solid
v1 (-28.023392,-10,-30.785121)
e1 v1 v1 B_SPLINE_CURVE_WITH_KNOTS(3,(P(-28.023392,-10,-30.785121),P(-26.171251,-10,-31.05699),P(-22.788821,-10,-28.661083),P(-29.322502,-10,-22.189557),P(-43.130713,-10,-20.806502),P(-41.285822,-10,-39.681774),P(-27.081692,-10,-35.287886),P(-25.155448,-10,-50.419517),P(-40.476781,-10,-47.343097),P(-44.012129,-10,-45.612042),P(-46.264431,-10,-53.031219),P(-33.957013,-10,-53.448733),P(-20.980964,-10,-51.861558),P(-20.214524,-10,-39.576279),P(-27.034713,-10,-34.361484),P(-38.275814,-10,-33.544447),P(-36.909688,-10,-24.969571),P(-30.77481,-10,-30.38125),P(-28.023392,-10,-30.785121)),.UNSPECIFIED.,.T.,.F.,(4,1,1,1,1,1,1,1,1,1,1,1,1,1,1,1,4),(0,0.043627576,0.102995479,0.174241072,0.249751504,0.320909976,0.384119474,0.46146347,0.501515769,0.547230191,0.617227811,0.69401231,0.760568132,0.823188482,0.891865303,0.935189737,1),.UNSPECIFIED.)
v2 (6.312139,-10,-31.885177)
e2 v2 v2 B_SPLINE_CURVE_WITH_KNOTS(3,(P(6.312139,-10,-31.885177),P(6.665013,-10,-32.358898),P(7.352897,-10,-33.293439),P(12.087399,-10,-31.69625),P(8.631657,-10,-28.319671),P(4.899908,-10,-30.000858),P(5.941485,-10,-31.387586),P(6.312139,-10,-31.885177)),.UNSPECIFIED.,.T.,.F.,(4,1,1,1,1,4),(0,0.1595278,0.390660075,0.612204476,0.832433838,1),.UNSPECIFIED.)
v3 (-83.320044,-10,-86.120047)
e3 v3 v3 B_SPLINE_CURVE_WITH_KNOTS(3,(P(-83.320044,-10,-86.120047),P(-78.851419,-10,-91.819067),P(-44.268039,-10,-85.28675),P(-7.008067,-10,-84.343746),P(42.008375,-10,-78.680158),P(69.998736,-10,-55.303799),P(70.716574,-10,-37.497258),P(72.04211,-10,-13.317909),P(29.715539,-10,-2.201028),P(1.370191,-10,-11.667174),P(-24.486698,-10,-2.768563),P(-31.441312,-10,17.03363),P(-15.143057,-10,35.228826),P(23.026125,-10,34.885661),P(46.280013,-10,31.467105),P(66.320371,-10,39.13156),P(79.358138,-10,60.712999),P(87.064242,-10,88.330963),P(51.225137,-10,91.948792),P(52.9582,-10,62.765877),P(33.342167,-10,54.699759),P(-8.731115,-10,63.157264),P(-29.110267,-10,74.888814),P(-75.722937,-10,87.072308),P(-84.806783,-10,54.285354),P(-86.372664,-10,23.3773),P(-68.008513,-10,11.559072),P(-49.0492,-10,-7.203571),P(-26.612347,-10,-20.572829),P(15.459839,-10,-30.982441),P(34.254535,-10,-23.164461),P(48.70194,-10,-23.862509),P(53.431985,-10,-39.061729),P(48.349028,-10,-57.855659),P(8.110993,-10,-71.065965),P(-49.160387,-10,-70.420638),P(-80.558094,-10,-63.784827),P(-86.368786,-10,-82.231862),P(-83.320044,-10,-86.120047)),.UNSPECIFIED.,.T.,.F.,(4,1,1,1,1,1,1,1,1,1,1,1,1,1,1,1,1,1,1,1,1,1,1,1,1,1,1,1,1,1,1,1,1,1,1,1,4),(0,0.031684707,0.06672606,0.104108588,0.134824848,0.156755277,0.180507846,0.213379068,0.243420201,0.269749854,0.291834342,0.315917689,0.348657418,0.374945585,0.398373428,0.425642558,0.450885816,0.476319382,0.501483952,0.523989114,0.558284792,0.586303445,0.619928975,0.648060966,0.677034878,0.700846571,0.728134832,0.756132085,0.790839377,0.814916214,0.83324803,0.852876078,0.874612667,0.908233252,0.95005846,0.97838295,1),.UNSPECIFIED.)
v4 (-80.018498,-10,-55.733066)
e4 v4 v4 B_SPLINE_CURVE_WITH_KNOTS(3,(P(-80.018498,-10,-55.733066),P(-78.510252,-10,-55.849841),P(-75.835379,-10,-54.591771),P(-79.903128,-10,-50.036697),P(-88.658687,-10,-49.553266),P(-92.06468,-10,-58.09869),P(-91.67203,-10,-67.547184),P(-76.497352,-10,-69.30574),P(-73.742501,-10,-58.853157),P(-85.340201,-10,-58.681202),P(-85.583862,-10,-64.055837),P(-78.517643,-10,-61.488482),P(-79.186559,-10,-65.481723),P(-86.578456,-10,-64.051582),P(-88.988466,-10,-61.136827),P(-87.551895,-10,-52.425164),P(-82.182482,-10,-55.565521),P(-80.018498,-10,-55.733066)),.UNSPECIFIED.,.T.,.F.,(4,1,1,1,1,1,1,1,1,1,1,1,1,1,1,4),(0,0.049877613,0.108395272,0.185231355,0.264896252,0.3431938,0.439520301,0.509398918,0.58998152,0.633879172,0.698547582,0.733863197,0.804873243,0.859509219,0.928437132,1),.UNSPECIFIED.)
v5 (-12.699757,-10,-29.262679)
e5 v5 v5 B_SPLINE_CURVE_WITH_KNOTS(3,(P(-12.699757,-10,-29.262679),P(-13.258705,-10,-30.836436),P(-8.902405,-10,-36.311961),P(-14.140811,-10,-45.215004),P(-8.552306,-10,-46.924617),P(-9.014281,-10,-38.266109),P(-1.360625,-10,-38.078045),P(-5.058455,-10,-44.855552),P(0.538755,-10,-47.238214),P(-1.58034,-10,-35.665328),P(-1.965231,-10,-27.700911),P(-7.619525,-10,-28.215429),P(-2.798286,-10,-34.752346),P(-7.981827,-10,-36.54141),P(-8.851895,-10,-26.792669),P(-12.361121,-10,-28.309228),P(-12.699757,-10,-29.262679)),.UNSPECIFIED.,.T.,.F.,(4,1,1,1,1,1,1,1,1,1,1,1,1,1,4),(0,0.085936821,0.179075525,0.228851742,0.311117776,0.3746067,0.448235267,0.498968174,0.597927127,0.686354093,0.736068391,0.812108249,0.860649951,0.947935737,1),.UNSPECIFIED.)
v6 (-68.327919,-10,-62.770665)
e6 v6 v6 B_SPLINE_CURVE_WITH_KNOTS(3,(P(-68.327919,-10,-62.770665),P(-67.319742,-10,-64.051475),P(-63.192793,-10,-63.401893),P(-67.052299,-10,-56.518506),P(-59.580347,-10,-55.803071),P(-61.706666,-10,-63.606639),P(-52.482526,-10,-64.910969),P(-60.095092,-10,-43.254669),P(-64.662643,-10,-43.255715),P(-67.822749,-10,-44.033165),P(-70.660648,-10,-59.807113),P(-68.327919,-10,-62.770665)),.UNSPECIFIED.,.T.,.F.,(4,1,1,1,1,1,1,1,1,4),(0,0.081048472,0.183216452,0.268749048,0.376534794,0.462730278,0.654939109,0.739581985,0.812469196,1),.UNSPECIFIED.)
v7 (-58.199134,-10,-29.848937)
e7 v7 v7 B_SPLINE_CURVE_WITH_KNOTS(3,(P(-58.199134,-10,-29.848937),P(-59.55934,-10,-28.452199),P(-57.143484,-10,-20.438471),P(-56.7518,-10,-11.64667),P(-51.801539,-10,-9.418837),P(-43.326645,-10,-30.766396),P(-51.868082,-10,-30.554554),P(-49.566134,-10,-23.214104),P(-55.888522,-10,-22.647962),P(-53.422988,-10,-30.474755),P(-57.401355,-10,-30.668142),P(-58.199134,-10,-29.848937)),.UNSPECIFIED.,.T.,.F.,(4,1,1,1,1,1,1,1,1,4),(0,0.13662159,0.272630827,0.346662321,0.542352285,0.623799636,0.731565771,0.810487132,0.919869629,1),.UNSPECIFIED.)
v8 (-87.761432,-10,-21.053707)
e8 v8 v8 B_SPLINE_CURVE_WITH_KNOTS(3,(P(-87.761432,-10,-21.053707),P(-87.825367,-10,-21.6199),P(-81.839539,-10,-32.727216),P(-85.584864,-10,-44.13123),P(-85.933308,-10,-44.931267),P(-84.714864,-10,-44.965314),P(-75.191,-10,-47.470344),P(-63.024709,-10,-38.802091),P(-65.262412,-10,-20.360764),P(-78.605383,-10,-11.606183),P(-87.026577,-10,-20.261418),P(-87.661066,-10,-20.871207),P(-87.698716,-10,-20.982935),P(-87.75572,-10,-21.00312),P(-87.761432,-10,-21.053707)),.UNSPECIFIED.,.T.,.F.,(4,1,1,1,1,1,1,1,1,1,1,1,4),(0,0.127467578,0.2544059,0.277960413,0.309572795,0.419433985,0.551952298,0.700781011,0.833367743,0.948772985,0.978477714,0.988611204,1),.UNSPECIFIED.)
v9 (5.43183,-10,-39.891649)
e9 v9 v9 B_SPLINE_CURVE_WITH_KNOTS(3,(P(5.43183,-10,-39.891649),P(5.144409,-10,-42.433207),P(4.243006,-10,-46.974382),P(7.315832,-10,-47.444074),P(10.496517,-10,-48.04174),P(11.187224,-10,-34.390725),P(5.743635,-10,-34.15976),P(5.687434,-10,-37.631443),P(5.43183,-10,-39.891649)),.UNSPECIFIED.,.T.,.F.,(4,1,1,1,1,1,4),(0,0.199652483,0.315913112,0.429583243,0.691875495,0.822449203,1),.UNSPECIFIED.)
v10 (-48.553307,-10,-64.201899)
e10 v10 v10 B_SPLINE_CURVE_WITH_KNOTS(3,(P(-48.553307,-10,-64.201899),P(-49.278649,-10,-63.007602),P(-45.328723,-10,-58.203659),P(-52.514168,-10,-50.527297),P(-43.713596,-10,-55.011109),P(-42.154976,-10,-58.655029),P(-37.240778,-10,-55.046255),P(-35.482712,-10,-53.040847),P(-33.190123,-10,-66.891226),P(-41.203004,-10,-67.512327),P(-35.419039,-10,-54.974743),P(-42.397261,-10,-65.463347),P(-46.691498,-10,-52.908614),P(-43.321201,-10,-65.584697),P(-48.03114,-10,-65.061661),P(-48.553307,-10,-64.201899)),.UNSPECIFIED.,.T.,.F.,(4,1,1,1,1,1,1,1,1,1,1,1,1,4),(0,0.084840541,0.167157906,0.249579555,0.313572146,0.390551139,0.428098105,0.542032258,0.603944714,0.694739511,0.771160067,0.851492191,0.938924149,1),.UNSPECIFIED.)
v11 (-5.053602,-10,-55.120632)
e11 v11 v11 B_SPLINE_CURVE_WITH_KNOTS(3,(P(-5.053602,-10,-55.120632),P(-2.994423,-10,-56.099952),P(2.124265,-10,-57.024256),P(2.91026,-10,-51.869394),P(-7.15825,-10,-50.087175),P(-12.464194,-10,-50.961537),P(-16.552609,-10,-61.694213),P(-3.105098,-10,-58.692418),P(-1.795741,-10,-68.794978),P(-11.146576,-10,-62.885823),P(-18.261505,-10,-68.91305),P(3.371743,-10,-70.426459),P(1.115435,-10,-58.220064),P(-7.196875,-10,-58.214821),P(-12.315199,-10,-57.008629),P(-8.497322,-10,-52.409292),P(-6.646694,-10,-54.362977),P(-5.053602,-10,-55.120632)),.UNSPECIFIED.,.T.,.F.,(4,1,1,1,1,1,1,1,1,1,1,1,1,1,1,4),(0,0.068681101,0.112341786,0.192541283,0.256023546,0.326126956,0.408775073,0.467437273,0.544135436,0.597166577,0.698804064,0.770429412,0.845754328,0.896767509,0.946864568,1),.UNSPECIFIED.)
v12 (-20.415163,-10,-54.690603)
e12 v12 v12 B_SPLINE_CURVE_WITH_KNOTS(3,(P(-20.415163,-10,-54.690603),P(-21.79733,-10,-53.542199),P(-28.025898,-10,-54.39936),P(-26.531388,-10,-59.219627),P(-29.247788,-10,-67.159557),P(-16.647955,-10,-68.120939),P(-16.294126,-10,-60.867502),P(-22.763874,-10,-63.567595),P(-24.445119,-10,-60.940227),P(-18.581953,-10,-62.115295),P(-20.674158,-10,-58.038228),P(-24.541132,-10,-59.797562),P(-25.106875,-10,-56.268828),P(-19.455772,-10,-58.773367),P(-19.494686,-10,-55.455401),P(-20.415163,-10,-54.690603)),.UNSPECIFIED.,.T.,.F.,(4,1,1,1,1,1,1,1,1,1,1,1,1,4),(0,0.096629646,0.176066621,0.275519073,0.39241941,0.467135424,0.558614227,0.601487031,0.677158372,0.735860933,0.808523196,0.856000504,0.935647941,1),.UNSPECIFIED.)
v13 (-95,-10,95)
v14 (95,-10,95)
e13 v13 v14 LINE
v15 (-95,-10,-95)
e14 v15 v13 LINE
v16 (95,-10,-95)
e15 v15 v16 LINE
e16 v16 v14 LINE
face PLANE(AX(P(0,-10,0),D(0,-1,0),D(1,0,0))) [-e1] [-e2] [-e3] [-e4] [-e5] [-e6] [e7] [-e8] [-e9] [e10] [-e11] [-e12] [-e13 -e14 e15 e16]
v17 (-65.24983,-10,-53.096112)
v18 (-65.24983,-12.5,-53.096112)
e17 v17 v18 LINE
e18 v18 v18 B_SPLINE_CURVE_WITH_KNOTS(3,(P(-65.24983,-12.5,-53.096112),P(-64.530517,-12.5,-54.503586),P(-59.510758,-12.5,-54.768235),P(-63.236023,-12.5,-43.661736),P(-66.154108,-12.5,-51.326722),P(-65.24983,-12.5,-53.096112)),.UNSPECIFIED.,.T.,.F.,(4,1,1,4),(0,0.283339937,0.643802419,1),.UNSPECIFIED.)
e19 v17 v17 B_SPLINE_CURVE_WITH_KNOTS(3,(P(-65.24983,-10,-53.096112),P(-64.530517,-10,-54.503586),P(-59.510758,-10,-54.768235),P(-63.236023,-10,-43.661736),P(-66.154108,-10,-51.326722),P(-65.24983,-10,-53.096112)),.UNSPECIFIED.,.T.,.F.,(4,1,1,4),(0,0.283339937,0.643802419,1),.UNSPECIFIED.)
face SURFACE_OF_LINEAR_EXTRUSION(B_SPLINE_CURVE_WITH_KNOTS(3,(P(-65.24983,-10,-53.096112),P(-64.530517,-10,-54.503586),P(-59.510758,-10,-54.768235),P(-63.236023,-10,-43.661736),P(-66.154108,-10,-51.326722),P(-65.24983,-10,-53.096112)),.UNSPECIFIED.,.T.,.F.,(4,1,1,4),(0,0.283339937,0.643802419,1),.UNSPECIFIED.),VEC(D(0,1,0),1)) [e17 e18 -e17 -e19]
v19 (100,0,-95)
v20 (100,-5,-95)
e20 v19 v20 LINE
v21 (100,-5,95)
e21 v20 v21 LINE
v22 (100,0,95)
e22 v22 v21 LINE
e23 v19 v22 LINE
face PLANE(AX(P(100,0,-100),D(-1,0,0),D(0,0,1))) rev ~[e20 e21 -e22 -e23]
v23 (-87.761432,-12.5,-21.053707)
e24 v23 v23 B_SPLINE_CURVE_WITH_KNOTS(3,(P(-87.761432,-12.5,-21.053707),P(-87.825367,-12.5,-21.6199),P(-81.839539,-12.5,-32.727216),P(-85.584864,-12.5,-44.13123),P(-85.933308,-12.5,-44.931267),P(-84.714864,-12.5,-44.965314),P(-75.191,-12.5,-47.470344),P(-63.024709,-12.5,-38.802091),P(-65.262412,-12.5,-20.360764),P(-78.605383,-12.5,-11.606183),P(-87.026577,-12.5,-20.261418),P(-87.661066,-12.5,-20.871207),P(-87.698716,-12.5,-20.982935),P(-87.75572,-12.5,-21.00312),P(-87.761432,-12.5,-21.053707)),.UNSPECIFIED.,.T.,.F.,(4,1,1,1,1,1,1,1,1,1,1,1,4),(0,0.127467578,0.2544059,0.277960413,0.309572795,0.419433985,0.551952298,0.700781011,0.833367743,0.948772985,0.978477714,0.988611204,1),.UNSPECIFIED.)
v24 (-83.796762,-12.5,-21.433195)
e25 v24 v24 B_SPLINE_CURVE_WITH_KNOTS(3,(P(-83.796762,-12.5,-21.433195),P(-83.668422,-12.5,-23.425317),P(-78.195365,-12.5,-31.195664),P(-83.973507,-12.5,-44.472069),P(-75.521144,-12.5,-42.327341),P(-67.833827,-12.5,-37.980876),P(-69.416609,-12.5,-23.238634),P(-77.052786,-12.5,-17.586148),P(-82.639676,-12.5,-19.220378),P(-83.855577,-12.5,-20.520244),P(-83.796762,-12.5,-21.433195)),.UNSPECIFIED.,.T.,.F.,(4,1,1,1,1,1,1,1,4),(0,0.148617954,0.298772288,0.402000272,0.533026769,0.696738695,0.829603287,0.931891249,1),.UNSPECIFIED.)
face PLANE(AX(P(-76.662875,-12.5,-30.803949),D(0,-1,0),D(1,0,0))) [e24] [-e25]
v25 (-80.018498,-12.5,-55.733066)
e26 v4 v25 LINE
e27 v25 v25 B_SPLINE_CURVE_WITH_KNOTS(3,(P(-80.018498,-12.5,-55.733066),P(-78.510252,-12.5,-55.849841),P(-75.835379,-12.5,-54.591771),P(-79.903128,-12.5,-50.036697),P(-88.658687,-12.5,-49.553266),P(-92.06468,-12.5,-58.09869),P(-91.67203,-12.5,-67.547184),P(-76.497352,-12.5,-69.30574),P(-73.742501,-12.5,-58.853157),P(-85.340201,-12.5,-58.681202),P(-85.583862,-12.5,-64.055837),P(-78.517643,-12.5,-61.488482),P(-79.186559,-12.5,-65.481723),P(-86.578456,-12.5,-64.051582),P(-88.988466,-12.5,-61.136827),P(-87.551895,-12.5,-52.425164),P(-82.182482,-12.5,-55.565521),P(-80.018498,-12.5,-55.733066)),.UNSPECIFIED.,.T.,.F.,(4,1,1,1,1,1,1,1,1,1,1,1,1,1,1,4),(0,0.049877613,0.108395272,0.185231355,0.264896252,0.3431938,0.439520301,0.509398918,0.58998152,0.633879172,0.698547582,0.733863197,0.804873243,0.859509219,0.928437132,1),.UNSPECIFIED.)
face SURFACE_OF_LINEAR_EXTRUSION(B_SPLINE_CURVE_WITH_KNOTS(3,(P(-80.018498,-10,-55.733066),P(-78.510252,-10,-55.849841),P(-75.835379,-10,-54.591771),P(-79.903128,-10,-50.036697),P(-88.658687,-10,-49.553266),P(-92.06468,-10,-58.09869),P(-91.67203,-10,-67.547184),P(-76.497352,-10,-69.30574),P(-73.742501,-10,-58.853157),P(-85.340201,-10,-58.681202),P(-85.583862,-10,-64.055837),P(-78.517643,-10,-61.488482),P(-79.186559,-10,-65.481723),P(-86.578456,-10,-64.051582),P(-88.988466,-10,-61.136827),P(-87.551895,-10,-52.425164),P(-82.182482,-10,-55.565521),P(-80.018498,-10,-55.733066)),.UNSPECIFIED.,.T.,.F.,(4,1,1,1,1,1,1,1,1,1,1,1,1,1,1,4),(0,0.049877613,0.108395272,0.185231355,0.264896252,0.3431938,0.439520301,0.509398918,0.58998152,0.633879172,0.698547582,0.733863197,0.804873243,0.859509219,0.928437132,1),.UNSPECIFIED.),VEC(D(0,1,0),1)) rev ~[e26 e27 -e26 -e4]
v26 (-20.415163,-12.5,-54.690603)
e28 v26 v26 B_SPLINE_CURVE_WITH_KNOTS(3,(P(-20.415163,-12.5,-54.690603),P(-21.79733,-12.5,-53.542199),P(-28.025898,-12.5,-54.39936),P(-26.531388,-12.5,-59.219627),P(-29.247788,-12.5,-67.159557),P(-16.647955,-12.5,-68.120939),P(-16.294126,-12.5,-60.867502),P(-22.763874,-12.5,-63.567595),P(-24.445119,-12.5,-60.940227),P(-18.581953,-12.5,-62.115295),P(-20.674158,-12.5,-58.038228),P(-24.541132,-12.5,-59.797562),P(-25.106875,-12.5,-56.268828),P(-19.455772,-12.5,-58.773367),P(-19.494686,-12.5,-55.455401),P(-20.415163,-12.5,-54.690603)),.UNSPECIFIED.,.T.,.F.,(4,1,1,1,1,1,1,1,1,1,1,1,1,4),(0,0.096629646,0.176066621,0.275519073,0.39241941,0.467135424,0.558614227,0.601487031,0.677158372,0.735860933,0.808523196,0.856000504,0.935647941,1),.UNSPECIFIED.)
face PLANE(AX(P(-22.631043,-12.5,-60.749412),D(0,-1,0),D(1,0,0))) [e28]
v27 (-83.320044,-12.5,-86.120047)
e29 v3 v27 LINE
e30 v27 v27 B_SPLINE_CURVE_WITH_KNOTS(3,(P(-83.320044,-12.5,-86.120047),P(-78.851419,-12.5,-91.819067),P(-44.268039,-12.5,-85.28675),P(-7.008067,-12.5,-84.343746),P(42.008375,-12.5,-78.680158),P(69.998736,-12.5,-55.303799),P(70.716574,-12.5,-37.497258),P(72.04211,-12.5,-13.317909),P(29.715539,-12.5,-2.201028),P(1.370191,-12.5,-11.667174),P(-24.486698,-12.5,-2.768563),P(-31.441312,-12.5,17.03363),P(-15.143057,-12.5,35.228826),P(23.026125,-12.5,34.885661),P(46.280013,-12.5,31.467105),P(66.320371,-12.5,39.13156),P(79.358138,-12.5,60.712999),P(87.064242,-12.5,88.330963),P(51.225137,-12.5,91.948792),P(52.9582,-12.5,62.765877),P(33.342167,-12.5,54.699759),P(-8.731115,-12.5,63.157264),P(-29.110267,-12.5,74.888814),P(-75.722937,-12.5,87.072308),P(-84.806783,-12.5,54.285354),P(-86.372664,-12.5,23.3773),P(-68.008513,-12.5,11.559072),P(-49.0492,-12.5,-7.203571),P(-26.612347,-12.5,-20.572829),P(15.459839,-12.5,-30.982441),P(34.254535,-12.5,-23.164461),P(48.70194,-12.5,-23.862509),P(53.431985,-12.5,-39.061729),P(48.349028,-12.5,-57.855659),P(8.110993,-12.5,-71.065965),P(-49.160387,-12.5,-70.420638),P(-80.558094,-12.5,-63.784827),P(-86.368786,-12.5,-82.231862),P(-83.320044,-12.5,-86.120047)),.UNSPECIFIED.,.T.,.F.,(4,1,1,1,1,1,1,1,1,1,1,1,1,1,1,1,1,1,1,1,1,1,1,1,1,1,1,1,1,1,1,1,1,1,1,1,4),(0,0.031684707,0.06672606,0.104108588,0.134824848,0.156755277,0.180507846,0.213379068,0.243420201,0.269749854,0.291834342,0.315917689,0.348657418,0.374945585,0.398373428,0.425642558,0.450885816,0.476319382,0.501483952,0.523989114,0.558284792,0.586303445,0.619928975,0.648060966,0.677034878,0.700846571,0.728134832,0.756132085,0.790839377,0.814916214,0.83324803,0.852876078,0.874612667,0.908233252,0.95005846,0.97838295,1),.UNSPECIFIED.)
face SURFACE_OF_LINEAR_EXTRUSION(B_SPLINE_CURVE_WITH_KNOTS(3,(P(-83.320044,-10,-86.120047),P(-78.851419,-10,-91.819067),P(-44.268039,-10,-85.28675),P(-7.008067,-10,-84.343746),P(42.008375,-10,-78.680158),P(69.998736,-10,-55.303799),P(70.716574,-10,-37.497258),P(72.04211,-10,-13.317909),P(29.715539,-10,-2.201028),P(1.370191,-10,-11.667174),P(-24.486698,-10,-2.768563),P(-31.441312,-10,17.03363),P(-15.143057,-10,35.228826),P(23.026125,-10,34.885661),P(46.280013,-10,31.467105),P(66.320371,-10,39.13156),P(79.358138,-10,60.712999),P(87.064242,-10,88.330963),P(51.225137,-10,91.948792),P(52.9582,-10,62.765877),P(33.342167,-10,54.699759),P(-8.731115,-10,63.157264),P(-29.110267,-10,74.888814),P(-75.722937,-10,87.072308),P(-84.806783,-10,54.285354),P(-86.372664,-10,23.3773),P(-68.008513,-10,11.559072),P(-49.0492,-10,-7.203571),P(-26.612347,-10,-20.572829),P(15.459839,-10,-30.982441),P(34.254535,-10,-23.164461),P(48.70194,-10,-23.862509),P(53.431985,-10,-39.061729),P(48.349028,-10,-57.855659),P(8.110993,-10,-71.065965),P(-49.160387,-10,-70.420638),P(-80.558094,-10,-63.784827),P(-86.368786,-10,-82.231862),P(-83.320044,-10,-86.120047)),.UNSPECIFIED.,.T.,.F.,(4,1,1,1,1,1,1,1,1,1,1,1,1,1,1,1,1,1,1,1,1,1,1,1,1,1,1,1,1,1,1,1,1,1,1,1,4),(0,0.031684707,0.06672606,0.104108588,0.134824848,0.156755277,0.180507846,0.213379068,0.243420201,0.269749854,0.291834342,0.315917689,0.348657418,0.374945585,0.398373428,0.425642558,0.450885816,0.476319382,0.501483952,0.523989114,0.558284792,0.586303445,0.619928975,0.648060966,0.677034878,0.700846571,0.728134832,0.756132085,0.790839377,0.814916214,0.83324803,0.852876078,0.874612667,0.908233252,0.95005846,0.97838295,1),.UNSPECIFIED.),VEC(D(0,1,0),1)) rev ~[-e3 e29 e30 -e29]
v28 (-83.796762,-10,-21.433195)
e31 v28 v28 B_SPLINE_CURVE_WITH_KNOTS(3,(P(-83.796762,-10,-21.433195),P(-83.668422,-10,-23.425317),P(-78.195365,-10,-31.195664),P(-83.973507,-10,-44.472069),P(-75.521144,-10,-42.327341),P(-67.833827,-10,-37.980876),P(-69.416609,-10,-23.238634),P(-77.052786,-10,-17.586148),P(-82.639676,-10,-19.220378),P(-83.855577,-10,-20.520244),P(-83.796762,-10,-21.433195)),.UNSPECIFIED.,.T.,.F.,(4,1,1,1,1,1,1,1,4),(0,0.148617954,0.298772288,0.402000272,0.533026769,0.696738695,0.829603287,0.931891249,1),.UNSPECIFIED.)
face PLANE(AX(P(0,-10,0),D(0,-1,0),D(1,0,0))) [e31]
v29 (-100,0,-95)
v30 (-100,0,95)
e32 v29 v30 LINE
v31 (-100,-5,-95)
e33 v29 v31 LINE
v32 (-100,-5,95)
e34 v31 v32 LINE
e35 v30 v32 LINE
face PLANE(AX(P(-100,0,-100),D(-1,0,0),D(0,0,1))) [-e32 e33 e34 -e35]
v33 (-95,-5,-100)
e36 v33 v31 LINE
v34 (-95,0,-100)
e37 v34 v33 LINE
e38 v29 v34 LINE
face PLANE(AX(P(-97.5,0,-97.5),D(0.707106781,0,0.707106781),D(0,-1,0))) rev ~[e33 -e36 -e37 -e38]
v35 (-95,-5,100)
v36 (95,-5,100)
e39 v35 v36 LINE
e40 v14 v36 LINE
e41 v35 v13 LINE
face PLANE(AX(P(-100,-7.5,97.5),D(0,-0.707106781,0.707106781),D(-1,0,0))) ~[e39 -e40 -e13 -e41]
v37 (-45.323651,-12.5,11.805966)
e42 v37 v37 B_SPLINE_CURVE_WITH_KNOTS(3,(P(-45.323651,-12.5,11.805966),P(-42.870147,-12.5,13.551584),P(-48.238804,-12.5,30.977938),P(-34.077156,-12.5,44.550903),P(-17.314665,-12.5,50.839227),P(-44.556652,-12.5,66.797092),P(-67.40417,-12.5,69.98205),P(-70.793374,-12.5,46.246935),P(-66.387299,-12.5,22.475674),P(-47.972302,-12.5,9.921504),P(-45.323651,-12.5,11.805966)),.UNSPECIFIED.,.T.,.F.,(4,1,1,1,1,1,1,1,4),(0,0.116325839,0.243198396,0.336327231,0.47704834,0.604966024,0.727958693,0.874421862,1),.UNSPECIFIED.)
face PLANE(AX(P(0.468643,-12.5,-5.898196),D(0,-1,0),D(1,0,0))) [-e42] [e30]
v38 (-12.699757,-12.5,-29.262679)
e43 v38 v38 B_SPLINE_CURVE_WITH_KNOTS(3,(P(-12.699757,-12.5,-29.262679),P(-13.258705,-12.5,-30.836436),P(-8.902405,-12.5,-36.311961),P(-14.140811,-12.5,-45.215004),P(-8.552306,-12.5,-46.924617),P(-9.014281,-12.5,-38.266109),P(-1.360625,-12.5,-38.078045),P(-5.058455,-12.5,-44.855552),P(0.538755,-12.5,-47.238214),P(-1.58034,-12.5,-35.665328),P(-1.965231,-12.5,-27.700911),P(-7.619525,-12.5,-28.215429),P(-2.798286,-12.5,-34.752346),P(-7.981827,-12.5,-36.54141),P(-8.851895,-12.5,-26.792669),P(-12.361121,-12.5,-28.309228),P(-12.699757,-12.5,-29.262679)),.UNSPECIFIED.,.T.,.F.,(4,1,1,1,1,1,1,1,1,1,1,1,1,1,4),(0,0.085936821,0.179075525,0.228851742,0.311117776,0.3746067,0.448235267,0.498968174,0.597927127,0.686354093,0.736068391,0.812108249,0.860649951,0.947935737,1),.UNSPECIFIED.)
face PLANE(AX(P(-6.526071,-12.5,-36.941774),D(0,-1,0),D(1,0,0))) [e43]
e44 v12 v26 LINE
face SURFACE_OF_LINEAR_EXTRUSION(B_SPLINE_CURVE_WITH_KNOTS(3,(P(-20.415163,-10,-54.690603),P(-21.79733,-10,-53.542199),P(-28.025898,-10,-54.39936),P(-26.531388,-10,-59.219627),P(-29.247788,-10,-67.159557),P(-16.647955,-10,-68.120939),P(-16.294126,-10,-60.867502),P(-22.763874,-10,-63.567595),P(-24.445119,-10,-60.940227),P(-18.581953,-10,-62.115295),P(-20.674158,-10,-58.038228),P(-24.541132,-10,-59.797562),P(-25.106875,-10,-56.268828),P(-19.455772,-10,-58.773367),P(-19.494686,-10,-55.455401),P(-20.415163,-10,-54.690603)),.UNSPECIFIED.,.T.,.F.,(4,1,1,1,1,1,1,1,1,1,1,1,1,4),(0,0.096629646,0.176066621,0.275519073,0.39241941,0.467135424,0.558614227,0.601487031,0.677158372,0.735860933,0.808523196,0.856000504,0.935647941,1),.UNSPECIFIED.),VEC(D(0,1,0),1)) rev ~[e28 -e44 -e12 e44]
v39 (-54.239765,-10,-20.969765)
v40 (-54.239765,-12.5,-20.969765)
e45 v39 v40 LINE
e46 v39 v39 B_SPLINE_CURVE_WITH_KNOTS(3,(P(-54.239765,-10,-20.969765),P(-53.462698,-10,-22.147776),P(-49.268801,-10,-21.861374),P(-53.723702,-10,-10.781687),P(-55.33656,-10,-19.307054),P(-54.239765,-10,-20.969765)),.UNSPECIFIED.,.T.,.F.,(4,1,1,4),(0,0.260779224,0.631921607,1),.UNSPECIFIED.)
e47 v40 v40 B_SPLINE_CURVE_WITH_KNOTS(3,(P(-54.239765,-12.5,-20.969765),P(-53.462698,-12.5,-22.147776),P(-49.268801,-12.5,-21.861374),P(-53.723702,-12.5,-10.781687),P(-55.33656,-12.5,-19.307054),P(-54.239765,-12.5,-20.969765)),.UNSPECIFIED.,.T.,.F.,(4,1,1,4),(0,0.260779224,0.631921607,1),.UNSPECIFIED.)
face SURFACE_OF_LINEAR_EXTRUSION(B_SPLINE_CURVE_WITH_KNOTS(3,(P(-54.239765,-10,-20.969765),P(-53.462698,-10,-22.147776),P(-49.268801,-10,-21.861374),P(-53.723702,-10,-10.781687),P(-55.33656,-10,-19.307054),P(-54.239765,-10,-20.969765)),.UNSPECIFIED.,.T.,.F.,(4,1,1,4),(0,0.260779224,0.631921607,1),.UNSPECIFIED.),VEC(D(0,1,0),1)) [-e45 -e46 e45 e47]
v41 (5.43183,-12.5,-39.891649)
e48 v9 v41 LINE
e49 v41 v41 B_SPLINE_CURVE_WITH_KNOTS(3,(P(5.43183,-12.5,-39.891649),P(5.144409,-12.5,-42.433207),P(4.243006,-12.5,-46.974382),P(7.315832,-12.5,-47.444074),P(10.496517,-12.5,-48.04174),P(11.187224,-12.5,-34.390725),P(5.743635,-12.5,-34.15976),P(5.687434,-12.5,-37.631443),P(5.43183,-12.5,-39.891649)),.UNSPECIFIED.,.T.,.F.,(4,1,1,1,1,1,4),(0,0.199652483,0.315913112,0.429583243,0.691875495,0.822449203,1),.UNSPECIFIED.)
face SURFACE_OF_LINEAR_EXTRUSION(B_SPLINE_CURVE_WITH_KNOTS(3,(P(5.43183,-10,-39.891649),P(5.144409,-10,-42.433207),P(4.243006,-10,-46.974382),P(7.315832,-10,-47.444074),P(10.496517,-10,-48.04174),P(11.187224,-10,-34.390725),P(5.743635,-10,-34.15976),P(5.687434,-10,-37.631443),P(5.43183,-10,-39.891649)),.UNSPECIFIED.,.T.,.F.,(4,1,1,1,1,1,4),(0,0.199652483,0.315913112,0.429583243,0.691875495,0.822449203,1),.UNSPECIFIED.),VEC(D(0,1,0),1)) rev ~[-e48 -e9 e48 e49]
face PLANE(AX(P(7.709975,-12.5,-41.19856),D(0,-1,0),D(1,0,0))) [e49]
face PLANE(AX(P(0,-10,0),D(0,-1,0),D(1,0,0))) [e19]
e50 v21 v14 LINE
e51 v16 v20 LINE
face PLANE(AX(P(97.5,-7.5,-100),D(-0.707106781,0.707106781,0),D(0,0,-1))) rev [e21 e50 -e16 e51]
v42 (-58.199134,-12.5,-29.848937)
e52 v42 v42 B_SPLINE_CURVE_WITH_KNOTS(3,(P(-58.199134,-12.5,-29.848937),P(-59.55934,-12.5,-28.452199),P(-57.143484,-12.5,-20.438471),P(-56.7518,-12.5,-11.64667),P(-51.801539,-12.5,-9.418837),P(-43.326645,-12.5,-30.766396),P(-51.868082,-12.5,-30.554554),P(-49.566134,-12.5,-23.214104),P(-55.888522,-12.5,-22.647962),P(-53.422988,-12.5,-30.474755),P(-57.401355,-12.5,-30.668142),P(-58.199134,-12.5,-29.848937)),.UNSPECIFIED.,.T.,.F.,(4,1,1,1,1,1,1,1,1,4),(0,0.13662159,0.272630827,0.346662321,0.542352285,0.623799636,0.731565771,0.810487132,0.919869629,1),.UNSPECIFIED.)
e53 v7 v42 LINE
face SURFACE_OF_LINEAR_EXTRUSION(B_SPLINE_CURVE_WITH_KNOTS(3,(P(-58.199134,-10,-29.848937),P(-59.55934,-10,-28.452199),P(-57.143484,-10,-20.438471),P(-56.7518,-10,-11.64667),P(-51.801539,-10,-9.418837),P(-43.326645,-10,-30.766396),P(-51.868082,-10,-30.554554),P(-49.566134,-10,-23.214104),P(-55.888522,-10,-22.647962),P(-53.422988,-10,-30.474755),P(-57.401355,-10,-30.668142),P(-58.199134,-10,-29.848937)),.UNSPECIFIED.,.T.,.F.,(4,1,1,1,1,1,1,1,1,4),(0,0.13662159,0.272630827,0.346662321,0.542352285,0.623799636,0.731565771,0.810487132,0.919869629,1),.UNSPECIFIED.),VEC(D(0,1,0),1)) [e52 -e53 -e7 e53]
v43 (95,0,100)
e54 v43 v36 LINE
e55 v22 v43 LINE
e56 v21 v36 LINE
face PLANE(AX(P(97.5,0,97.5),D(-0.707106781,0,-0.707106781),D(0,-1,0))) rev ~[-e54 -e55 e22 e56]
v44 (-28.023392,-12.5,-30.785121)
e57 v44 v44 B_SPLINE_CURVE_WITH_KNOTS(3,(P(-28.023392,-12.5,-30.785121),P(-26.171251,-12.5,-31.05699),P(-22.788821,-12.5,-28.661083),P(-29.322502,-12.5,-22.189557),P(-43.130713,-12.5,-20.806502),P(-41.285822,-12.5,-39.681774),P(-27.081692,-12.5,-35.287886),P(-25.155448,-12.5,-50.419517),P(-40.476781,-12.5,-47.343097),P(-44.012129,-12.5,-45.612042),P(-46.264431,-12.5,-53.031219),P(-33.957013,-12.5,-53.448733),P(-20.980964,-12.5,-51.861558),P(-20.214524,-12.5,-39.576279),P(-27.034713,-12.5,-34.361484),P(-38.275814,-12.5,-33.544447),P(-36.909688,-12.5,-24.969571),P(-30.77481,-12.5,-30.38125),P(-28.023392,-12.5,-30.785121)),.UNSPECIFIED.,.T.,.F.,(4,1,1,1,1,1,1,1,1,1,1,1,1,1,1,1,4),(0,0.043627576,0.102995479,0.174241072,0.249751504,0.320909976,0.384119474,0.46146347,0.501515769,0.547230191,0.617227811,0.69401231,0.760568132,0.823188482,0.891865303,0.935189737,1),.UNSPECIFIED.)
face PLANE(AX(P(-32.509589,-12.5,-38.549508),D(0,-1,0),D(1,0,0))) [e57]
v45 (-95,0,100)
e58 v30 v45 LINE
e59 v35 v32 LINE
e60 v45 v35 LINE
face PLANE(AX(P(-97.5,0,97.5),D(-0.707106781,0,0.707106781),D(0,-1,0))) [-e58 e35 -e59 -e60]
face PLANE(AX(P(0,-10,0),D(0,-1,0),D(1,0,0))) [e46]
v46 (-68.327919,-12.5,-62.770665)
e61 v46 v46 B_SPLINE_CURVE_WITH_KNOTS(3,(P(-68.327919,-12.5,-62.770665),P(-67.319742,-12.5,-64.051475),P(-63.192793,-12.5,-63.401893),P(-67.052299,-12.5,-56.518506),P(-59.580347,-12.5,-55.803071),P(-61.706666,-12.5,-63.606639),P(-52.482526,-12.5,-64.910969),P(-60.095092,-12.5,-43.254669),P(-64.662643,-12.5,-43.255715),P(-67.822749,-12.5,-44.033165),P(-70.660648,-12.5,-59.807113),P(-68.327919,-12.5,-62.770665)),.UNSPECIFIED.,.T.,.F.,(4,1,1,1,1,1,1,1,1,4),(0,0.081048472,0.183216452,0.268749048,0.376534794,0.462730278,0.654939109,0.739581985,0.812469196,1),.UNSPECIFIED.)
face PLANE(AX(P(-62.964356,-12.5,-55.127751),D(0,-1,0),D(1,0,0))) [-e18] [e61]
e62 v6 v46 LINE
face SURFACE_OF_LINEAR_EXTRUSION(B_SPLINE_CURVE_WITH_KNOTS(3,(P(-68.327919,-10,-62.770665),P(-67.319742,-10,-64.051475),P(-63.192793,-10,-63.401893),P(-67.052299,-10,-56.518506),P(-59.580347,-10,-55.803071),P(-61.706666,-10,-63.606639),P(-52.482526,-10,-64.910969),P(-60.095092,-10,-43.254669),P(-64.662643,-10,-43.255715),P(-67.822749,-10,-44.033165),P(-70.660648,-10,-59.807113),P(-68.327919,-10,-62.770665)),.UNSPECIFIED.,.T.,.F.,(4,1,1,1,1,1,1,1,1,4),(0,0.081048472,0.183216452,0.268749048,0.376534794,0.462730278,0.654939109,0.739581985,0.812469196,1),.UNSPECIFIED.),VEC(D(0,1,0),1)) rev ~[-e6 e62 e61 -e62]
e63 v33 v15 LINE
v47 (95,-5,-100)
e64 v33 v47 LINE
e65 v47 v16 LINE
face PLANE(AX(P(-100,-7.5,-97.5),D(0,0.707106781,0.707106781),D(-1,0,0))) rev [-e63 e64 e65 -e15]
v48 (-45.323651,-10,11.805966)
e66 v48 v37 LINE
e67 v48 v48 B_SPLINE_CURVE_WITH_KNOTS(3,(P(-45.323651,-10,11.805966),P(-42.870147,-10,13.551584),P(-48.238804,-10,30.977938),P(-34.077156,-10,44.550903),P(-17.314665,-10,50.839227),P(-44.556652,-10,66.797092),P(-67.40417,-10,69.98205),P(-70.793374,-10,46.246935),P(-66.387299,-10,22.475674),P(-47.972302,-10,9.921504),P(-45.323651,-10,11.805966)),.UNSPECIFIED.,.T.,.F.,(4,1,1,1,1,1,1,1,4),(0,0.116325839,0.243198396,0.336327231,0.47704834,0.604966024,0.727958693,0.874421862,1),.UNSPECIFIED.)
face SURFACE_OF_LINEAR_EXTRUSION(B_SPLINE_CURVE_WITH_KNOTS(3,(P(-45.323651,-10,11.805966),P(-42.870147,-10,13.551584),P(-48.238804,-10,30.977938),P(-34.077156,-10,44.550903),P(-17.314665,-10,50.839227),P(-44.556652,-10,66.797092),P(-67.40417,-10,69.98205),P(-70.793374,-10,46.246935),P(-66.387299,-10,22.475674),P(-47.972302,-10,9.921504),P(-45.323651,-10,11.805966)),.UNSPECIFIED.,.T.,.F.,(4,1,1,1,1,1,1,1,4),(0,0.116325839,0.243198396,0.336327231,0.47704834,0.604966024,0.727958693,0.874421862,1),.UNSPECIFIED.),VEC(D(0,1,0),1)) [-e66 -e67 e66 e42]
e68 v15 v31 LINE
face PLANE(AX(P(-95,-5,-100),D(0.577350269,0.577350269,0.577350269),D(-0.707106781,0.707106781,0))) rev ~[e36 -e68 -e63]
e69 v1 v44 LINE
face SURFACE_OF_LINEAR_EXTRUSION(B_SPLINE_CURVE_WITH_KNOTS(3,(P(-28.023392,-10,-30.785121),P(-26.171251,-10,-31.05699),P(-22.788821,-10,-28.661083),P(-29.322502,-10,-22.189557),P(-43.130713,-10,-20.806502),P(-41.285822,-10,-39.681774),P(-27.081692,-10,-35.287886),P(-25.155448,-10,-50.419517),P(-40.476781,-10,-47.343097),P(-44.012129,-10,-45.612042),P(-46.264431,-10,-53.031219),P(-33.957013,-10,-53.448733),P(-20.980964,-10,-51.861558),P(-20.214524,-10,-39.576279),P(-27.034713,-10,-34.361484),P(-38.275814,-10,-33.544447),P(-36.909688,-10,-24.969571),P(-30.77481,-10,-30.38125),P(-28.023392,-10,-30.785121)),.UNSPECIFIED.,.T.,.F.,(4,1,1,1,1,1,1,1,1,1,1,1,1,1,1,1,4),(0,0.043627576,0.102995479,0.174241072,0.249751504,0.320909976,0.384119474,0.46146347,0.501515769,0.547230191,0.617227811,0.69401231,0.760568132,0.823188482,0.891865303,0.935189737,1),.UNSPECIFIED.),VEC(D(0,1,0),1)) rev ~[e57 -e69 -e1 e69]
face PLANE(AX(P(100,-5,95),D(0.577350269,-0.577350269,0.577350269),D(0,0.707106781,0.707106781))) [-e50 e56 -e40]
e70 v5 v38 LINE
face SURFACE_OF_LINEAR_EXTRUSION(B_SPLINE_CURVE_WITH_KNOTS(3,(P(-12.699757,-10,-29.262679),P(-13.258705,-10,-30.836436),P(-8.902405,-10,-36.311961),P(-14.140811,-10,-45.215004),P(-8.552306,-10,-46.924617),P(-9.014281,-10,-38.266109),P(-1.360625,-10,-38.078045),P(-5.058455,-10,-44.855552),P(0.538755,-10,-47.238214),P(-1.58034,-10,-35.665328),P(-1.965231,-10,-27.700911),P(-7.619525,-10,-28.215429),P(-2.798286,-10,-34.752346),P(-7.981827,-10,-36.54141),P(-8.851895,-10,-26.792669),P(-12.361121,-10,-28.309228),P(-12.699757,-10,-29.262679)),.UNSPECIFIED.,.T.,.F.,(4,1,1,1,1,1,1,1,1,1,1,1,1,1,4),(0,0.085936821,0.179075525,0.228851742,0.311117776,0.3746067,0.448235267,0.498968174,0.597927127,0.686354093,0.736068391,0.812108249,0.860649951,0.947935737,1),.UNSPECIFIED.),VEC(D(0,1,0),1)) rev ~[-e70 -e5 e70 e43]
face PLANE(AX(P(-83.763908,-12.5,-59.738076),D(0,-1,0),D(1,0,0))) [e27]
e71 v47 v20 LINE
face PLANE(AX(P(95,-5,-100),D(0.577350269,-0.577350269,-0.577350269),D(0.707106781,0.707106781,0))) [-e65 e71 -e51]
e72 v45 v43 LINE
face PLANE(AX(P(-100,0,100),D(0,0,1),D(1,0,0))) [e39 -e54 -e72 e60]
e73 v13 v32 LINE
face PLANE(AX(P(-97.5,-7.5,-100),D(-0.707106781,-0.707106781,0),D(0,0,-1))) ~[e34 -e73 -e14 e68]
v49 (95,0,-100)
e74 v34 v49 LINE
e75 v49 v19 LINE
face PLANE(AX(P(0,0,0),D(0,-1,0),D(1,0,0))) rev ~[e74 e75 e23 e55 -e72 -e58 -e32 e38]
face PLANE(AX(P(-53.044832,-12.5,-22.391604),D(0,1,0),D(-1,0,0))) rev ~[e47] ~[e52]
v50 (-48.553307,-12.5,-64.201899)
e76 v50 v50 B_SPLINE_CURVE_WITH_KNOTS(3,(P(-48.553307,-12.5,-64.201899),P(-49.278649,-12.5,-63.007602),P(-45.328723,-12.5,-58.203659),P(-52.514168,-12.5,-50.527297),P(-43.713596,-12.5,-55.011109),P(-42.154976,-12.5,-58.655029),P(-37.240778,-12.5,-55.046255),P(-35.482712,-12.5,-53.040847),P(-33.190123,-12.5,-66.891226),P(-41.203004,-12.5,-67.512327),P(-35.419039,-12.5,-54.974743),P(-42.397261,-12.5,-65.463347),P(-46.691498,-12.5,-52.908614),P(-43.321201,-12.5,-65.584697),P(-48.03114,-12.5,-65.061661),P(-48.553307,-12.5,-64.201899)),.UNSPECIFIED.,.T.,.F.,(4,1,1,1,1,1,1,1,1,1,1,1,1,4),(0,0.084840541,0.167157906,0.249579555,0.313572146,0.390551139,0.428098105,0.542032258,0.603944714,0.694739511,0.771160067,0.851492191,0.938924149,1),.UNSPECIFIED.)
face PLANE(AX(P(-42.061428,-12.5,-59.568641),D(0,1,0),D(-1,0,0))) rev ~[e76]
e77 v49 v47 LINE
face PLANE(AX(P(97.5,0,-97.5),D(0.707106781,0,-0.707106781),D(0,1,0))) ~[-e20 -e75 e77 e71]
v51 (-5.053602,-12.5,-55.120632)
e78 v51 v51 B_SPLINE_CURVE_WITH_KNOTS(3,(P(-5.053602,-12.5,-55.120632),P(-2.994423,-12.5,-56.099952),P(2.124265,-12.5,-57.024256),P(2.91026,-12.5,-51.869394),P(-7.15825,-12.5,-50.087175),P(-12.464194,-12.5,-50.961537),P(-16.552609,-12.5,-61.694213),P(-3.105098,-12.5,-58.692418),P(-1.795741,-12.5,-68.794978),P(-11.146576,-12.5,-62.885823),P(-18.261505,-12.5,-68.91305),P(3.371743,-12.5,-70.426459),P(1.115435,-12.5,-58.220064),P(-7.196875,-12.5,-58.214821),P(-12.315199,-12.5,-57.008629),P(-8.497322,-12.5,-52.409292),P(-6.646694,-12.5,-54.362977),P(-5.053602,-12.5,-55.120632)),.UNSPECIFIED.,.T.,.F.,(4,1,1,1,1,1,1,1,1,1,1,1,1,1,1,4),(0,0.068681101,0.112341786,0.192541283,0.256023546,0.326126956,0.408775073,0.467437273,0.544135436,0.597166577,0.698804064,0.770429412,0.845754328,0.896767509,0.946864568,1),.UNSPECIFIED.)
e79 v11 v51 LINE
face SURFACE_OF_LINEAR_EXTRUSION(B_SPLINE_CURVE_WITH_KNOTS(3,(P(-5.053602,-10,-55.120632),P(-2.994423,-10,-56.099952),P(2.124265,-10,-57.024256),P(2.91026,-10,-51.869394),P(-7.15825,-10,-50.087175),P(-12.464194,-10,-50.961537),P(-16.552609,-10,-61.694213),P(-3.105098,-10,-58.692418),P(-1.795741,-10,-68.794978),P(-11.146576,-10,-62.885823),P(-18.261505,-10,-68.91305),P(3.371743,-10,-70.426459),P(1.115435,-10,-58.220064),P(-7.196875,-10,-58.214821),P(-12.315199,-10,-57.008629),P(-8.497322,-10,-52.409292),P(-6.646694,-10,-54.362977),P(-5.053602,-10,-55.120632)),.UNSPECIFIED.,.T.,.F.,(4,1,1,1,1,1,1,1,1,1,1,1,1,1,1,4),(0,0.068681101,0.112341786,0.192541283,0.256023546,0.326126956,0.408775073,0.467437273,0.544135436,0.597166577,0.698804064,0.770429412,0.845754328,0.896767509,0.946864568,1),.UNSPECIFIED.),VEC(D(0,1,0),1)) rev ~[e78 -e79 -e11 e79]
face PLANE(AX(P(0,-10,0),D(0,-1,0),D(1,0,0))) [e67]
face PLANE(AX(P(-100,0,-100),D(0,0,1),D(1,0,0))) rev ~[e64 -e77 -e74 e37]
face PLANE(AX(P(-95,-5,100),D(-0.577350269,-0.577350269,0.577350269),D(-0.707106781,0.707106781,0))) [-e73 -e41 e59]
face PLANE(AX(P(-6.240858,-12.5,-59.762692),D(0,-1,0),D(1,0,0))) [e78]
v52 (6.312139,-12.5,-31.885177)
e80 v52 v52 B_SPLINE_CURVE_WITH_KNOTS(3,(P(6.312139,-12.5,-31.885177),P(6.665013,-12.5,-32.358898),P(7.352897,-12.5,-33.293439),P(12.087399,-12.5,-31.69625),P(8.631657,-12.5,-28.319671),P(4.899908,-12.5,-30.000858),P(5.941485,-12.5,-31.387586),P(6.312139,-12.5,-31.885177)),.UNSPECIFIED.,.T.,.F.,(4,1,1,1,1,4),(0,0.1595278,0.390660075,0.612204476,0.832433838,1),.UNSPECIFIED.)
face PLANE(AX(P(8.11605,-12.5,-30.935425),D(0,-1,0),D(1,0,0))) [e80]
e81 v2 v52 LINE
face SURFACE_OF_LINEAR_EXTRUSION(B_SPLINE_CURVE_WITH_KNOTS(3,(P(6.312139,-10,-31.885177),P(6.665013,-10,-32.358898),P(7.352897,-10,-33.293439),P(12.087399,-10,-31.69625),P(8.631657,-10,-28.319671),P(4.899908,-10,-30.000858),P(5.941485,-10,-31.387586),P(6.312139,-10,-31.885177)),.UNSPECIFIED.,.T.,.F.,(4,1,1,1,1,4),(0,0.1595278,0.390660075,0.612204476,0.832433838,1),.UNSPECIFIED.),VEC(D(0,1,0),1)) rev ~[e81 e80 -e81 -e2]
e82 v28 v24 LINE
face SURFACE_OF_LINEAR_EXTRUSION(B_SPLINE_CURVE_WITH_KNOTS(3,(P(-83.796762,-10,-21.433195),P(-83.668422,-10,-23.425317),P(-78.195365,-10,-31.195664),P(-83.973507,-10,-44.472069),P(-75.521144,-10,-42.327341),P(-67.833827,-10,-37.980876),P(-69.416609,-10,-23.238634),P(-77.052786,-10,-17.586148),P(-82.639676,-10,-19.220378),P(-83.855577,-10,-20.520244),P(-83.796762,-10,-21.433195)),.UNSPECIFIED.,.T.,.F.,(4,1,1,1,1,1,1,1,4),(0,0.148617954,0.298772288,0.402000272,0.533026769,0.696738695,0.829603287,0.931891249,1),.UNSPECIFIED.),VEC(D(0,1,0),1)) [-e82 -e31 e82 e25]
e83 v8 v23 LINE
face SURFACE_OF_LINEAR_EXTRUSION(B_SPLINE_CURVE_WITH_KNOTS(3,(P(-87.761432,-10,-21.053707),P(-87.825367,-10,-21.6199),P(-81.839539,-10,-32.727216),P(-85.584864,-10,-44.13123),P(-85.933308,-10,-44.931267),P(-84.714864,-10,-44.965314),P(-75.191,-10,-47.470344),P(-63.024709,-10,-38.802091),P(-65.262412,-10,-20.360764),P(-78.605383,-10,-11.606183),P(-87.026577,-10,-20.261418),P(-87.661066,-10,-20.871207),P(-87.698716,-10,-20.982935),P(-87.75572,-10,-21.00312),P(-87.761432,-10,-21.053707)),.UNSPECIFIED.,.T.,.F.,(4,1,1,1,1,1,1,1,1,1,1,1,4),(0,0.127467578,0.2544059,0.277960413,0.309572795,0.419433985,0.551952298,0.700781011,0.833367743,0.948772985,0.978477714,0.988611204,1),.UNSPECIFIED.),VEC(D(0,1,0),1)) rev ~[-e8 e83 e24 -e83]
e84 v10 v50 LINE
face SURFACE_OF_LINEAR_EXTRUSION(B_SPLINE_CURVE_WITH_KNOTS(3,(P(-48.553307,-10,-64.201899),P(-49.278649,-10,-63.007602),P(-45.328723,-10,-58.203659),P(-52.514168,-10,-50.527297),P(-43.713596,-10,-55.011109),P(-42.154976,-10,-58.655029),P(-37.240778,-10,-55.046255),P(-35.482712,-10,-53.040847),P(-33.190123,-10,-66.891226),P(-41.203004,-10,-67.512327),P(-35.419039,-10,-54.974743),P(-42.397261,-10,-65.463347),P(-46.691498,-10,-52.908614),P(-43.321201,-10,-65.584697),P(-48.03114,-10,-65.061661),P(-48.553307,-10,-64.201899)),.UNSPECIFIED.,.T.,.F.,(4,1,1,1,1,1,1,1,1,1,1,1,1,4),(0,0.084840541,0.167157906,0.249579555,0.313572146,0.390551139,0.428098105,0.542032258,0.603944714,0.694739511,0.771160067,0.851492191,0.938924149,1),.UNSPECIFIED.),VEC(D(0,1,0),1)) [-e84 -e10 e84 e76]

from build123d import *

# Parameters (mm, degrees)
F0_W     = 200
F0_H     = 200
F0_W_2   = 190
F0_H_2   = 190
F1_DEPTH = 10
F2_SIZE  = 5
F4_DEPTH = 2.5


with BuildPart() as f1:
    # F0 (on Front) → F1 (new body)
    with BuildSketch(Plane.XZ):
        Rectangle(F0_W, F0_H)
        Rectangle(F0_W_2, F0_H_2, mode=Mode.SUBTRACT)
        Rectangle(F0_W_2, F0_H_2)
    extrude(amount=F1_DEPTH)

    # F2
    f2_edges = [f1.edges().sort_by_distance(p)[0] for p in [
        (-100, -10, 0),
        (0, -10, 100),
        (100, -10, 0),
        (0, -10, -100),
        (-100, -5, -100),
        (100, -5, -100),
        (100, -5, 100),
        (-100, -5, 100),
    ]]
    chamfer(f2_edges, length=F2_SIZE)

    # F3 (on face) → F4 (join)
    with BuildSketch(Plane.XZ.offset(10)):
        with BuildLine():
            add(Edge.make_bspline(
                [(-87.7614319324, -21.0537072271), (-87.825366867, -21.6199004584), (-81.8395387198, -32.7272155676), (-85.5848640599, -44.1312301135), (-85.9333076917, -44.9312667765), (-84.7148641289, -44.9653135893), (-75.1910001989, -47.4703439431), (-63.0247091743, -38.8020907721), (-65.2624117914, -20.3607639388), (-78.6053829774, -11.6061829799), (-87.0265766494, -20.2614177394), (-87.6610659296, -20.8712068369), (-87.6987156854, -20.9829346897), (-87.7557195629, -21.0031197822), (-87.7614319324, -21.0537072271)],
                knots=[0, 0, 0, 0, 0.1274675783, 0.2544059, 0.2779604132, 0.3095727952, 0.4194339848, 0.5519522976, 0.7007810112, 0.8333677429, 0.9487729847, 0.9784777135, 0.9886112042, 1, 1, 1, 1], degree=3))
        make_face()
        with BuildLine():
            add(Edge.make_bspline(
                [(-83.79676193, -21.4331950992), (-83.6684224556, -23.4253166092), (-78.1953647391, -31.195664231), (-83.9735066611, -44.4720690845), (-75.5211441931, -42.3273411788), (-67.8338266372, -37.9808761763), (-69.4166090973, -23.2386340273), (-77.0527862533, -17.5861479519), (-82.6396759257, -19.2203775392), (-83.8555774438, -20.5202441093), (-83.79676193, -21.4331950992)],
                knots=[0, 0, 0, 0, 0.1486179544, 0.2987722885, 0.4020002725, 0.5330267689, 0.6967386952, 0.8296032871, 0.9318912486, 1, 1, 1, 1], degree=3))
        make_face(mode=Mode.SUBTRACT)
        with BuildLine():
            add(Edge.make_bspline(
                [(-58.199133724, -29.8489369452), (-59.5593396713, -28.4521991908), (-57.143484187, -20.4384711009), (-56.7517995236, -11.6466704735), (-51.8015387198, -9.4188366419), (-43.3266446496, -30.7663964727), (-51.8680821117, -30.5545542125), (-49.566134085, -23.2141041072), (-55.8885223475, -22.6479617351), (-53.422988153, -30.4747553293), (-57.4013549336, -30.6681421239), (-58.199133724, -29.8489369452)],
                knots=[0, 0, 0, 0, 0.1366215896, 0.272630827, 0.3466623213, 0.5423522852, 0.6237996356, 0.7315657708, 0.8104871317, 0.9198696295, 1, 1, 1, 1], degree=3))
        make_face()
        with BuildLine():
            add(Edge.make_bspline(
                [(-54.2397648096, -20.9697652608), (-53.4626981955, -22.147776335), (-49.2688011133, -21.8613744597), (-53.7237021536, -10.7816867402), (-55.3365601206, -19.3070544982), (-54.2397648096, -20.9697652608)],
                knots=[0, 0, 0, 0, 0.2607792242, 0.6319216074, 1, 1, 1, 1], degree=3))
        make_face(mode=Mode.SUBTRACT)
        with BuildLine():
            add(Edge.make_bspline(
                [(-28.0233919621, -30.7851210237), (-26.1712514428, -31.056990298), (-22.7888205804, -28.6610829957), (-29.3225020472, -22.1895574744), (-43.1307127951, -20.806501756), (-41.2858215794, -39.6817735881), (-27.0816917314, -35.2878862445), (-25.1554480643, -50.419516874), (-40.4767809233, -47.3430968664), (-44.0121294885, -45.6120420154), (-46.2644313682, -53.0312190933), (-33.9570130578, -53.4487334928), (-20.9809644736, -51.8615581708), (-20.214524418, -39.5762787551), (-27.0347134532, -34.36148365), (-38.27581389, -33.5444471775), (-36.9096884637, -24.9695712614), (-30.7748103235, -30.381249878), (-28.0233919621, -30.7851210237)],
                knots=[0, 0, 0, 0, 0.0436275764, 0.1029954792, 0.1742410715, 0.2497515044, 0.320909976, 0.384119474, 0.4614634703, 0.5015157689, 0.5472301912, 0.6172278115, 0.6940123095, 0.760568132, 0.823188482, 0.8918653033, 0.9351897366, 1, 1, 1, 1], degree=3))
        make_face()
        with BuildLine():
            add(Edge.make_bspline(
                [(-12.6997567713, -29.2626786977), (-13.2587052462, -30.8364357648), (-8.9024048512, -36.3119608743), (-14.1408112845, -45.2150035694), (-8.552305813, -46.9246168636), (-9.0142808685, -38.2661094361), (-1.360625427, -38.078044797), (-5.0584550028, -44.8555516467), (0.5387553008, -47.2382138088), (-1.5803399109, -35.6653284247), (-1.9652312398, -27.7009110242), (-7.619524522, -28.2154286509), (-2.7982862253, -34.7523456896), (-7.9818272446, -36.541410088), (-8.8518954537, -26.7926691947), (-12.361121479, -28.3092282306), (-12.6997567713, -29.2626786977)],
                knots=[0, 0, 0, 0, 0.0859368209, 0.1790755251, 0.2288517422, 0.3111177758, 0.3746067004, 0.4482352669, 0.4989681736, 0.5979271266, 0.6863540927, 0.7360683906, 0.8121082493, 0.8606499513, 0.9479357369, 1, 1, 1, 1], degree=3))
        make_face()
        with BuildLine():
            add(Edge.make_bspline(
                [(5.4318304174, -39.8916490376), (5.1444085959, -42.4332071529), (4.2430060344, -46.9743824145), (7.3158321025, -47.444074076), (10.4965170085, -48.0417395906), (11.1872238426, -34.3907245409), (5.7436351006, -34.1597597154), (5.6874344181, -37.6314433956), (5.4318304174, -39.8916490376)],
                knots=[0, 0, 0, 0, 0.199652483, 0.315913112, 0.4295832431, 0.6918754953, 0.8224492031, 1, 1, 1, 1], degree=3))
        make_face()
        with BuildLine():
            add(Edge.make_bspline(
                [(6.3121393323, -31.885176897), (6.6650133551, -32.3588980948), (7.3528973302, -33.2934385123), (12.0873990584, -31.6962501206), (8.6316569008, -28.319671165), (4.8999083041, -30.0008583599), (5.9414845265, -31.3875856117), (6.3121393323, -31.885176897)],
                knots=[0, 0, 0, 0, 0.1595277996, 0.3906600755, 0.6122044764, 0.8324338383, 1, 1, 1, 1], degree=3))
        make_face()
        with BuildLine():
            add(Edge.make_bspline(
                [(-20.4151626676, -54.6906031668), (-21.7973301659, -53.5421990575), (-28.0258980206, -54.399360114), (-26.5313879097, -59.2196269463), (-29.2477881462, -67.1595570496), (-16.6479552712, -68.1209390786), (-16.2941260065, -60.8675018079), (-22.7638739303, -63.5675954209), (-24.4451188587, -60.9402273901), (-18.5819526126, -62.1152946619), (-20.6741579052, -58.0382280307), (-24.5411319121, -59.7975620674), (-25.1068750832, -56.2688278574), (-19.4557722471, -58.7733673811), (-19.4946861096, -55.4554012562), (-20.4151626676, -54.6906031668)],
                knots=[0, 0, 0, 0, 0.0966296457, 0.1760666212, 0.2755190731, 0.3924194103, 0.4671354236, 0.5586142265, 0.601487031, 0.677158372, 0.7358609328, 0.8085231958, 0.8560005038, 0.9356479415, 1, 1, 1, 1], degree=3))
        make_face()
        with BuildLine():
            add(Edge.make_bspline(
                [(-5.0536016934, -55.1206320524), (-2.9944234587, -56.0999515721), (2.1242651912, -57.0242562507), (2.9102603087, -51.8693935502), (-7.1582495972, -50.0871751341), (-12.4641940027, -50.9615368949), (-16.5526088087, -61.6942127811), (-3.1050978598, -58.6924184751), (-1.7957411156, -68.7949775391), (-11.1465762949, -62.8858228329), (-18.2615049442, -68.9130504822), (3.3717432602, -70.4264587104), (1.1154352929, -58.2200635568), (-7.1968751693, -58.2148211971), (-12.3151994564, -57.0086292464), (-8.4973222064, -52.4092922106), (-6.6466938841, -54.3629772497), (-5.0536016934, -55.1206320524)],
                knots=[0, 0, 0, 0, 0.0686811006, 0.1123417857, 0.1925412831, 0.2560235456, 0.3261269556, 0.4087750727, 0.4674372728, 0.5441354359, 0.5971665771, 0.6988040637, 0.7704294119, 0.8457543277, 0.8967675089, 0.946864568, 1, 1, 1, 1], degree=3))
        make_face()
        with BuildLine():
            add(Edge.make_bspline(
                [(-48.5533066094, -64.2018988729), (-49.2786488761, -63.0076020631), (-45.3287227709, -58.2036592627), (-52.5141678918, -50.5272969439), (-43.7135962891, -55.0111090446), (-42.1549755706, -58.6550294669), (-37.2407779426, -55.0462550529), (-35.4827120682, -53.0408474692), (-33.1901231657, -66.8912260865), (-41.2030035708, -67.5123265254), (-35.4190393371, -54.974743423), (-42.3972610943, -65.4633468977), (-46.6914977415, -52.9086141647), (-43.3212009824, -65.5846965335), (-48.0311400116, -65.0616611266), (-48.5533066094, -64.2018988729)],
                knots=[0, 0, 0, 0, 0.0848405406, 0.1671579058, 0.2495795549, 0.3135721457, 0.3905511386, 0.4280981047, 0.5420322583, 0.6039447143, 0.6947395112, 0.7711600666, 0.8514921914, 0.9389241487, 1, 1, 1, 1], degree=3))
        make_face()
        with BuildLine():
            add(Edge.make_bspline(
                [(-68.3279186487, -62.7706646919), (-67.3197421085, -64.0514746982), (-63.1927929698, -63.4018931912), (-67.052299195, -56.5185058491), (-59.580347003, -55.8030714061), (-61.7066657457, -63.6066388934), (-52.4825261661, -64.9109692014), (-60.0950918592, -43.2546686343), (-64.6626428375, -43.255715409), (-67.8227486214, -44.0331652459), (-70.6606480902, -59.8071130801), (-68.3279186487, -62.7706646919)],
                knots=[0, 0, 0, 0, 0.0810484721, 0.1832164519, 0.2687490479, 0.3765347937, 0.4627302784, 0.6549391089, 0.7395819849, 0.812469196, 1, 1, 1, 1], degree=3))
        make_face()
        with BuildLine():
            add(Edge.make_bspline(
                [(-65.2498304844, -53.0961118639), (-64.5305167537, -54.5035860455), (-59.5107581504, -54.7682348828), (-63.2360227568, -43.6617361602), (-66.1541075635, -51.3267216969), (-65.2498304844, -53.0961118639)],
                knots=[0, 0, 0, 0, 0.2833399368, 0.6438024195, 1, 1, 1, 1], degree=3))
        make_face(mode=Mode.SUBTRACT)
        with BuildLine():
            add(Edge.make_bspline(
                [(-80.0184980035, -55.7330660522), (-78.5102524717, -55.8498411855), (-75.8353788961, -54.5917705515), (-79.9031276719, -50.0366974323), (-88.6586867378, -49.5532662217), (-92.0646795401, -58.0986895638), (-91.6720303039, -67.547184484), (-76.4973524524, -69.3057400291), (-73.7425011892, -58.8531565777), (-85.3402010781, -58.681202116), (-85.583862337, -64.0558372443), (-78.5176433561, -61.4884822483), (-79.1865589987, -65.4817229587), (-86.5784561304, -64.0515824274), (-88.9884660324, -61.136826993), (-87.551894747, -52.4251638545), (-82.1824824153, -55.5655206739), (-80.0184980035, -55.7330660522)],
                knots=[0, 0, 0, 0, 0.0498776126, 0.1083952715, 0.1852313545, 0.2648962519, 0.3431937996, 0.4395203014, 0.5093989183, 0.5899815205, 0.6338791724, 0.6985475819, 0.7338631971, 0.8048732427, 0.8595092188, 0.9284371318, 1, 1, 1, 1], degree=3))
        make_face()
        with BuildLine():
            add(Edge.make_bspline(
                [(-83.3200439811, -86.1200466752), (-78.8514191593, -91.8190670887), (-44.2680393443, -85.2867500208), (-7.0080667015, -84.3437458241), (42.0083752562, -78.6801584487), (69.9987363365, -55.3037985902), (70.716573959, -37.4972575096), (72.0421103774, -13.3179088572), (29.7155388483, -2.2010284105), (1.3701906549, -11.6671744085), (-24.4866984286, -2.7685634379), (-31.4413117509, 17.0336296017), (-15.1430565962, 35.2288257701), (23.026125376, 34.8856611529), (46.2800133795, 31.467105355), (66.32037113, 39.1315604505), (79.3581384095, 60.7129989929), (87.0642421983, 88.3309634118), (51.2251365627, 91.9487920348), (52.9581995636, 62.76587747), (33.3421665533, 54.6997586792), (-8.7311145079, 63.1572643067), (-29.1102666737, 74.888813949), (-75.722936671, 87.0723080994), (-84.8067834276, 54.2853543431), (-86.3726640364, 23.3772995099), (-68.008512546, 11.5590717041), (-49.0492003256, -7.2035713384), (-26.6123473728, -20.5728293577), (15.45983874, -30.9824405512), (34.2545348457, -23.1644607397), (48.7019400185, -23.8625094353), (53.431984822, -39.0617288967), (48.3490284192, -57.8556586206), (8.1109933892, -71.0659651335), (-49.1603866134, -70.4206376955), (-80.5580937011, -63.7848267536), (-86.3687855855, -82.2318615329), (-83.3200439811, -86.1200466752)],
                knots=[0, 0, 0, 0, 0.031684707, 0.0667260596, 0.1041085877, 0.1348248478, 0.1567552766, 0.1805078464, 0.2133790683, 0.2434202007, 0.2697498543, 0.2918343421, 0.3159176891, 0.348657418, 0.3749455852, 0.3983734278, 0.4256425584, 0.450885816, 0.4763193815, 0.5014839517, 0.5239891138, 0.5582847923, 0.5863034454, 0.6199289751, 0.6480609655, 0.6770348775, 0.7008465706, 0.7281348324, 0.7561320853, 0.7908393775, 0.8149162136, 0.8332480302, 0.852876078, 0.8746126668, 0.908233252, 0.95005846, 0.9783829504, 1, 1, 1, 1], degree=3))
        make_face()
        with BuildLine():
            add(Edge.make_bspline(
                [(-45.323651284, 11.8059655651), (-42.8701470461, 13.5515841024), (-48.238803568, 30.9779383936), (-34.0771555697, 44.5509031058), (-17.3146651532, 50.8392273271), (-44.5566516281, 66.7970920309), (-67.404169902, 69.9820503079), (-70.7933740528, 46.2469350903), (-66.3872991715, 22.4756738894), (-47.9723017951, 9.9215044098), (-45.323651284, 11.8059655651)],
                knots=[0, 0, 0, 0, 0.1163258389, 0.2431983965, 0.336327231, 0.4770483402, 0.6049660237, 0.7279586929, 0.8744218625, 1, 1, 1, 1], degree=3))
        make_face(mode=Mode.SUBTRACT)
    extrude(amount=F4_DEPTH)


solid = f1.part
